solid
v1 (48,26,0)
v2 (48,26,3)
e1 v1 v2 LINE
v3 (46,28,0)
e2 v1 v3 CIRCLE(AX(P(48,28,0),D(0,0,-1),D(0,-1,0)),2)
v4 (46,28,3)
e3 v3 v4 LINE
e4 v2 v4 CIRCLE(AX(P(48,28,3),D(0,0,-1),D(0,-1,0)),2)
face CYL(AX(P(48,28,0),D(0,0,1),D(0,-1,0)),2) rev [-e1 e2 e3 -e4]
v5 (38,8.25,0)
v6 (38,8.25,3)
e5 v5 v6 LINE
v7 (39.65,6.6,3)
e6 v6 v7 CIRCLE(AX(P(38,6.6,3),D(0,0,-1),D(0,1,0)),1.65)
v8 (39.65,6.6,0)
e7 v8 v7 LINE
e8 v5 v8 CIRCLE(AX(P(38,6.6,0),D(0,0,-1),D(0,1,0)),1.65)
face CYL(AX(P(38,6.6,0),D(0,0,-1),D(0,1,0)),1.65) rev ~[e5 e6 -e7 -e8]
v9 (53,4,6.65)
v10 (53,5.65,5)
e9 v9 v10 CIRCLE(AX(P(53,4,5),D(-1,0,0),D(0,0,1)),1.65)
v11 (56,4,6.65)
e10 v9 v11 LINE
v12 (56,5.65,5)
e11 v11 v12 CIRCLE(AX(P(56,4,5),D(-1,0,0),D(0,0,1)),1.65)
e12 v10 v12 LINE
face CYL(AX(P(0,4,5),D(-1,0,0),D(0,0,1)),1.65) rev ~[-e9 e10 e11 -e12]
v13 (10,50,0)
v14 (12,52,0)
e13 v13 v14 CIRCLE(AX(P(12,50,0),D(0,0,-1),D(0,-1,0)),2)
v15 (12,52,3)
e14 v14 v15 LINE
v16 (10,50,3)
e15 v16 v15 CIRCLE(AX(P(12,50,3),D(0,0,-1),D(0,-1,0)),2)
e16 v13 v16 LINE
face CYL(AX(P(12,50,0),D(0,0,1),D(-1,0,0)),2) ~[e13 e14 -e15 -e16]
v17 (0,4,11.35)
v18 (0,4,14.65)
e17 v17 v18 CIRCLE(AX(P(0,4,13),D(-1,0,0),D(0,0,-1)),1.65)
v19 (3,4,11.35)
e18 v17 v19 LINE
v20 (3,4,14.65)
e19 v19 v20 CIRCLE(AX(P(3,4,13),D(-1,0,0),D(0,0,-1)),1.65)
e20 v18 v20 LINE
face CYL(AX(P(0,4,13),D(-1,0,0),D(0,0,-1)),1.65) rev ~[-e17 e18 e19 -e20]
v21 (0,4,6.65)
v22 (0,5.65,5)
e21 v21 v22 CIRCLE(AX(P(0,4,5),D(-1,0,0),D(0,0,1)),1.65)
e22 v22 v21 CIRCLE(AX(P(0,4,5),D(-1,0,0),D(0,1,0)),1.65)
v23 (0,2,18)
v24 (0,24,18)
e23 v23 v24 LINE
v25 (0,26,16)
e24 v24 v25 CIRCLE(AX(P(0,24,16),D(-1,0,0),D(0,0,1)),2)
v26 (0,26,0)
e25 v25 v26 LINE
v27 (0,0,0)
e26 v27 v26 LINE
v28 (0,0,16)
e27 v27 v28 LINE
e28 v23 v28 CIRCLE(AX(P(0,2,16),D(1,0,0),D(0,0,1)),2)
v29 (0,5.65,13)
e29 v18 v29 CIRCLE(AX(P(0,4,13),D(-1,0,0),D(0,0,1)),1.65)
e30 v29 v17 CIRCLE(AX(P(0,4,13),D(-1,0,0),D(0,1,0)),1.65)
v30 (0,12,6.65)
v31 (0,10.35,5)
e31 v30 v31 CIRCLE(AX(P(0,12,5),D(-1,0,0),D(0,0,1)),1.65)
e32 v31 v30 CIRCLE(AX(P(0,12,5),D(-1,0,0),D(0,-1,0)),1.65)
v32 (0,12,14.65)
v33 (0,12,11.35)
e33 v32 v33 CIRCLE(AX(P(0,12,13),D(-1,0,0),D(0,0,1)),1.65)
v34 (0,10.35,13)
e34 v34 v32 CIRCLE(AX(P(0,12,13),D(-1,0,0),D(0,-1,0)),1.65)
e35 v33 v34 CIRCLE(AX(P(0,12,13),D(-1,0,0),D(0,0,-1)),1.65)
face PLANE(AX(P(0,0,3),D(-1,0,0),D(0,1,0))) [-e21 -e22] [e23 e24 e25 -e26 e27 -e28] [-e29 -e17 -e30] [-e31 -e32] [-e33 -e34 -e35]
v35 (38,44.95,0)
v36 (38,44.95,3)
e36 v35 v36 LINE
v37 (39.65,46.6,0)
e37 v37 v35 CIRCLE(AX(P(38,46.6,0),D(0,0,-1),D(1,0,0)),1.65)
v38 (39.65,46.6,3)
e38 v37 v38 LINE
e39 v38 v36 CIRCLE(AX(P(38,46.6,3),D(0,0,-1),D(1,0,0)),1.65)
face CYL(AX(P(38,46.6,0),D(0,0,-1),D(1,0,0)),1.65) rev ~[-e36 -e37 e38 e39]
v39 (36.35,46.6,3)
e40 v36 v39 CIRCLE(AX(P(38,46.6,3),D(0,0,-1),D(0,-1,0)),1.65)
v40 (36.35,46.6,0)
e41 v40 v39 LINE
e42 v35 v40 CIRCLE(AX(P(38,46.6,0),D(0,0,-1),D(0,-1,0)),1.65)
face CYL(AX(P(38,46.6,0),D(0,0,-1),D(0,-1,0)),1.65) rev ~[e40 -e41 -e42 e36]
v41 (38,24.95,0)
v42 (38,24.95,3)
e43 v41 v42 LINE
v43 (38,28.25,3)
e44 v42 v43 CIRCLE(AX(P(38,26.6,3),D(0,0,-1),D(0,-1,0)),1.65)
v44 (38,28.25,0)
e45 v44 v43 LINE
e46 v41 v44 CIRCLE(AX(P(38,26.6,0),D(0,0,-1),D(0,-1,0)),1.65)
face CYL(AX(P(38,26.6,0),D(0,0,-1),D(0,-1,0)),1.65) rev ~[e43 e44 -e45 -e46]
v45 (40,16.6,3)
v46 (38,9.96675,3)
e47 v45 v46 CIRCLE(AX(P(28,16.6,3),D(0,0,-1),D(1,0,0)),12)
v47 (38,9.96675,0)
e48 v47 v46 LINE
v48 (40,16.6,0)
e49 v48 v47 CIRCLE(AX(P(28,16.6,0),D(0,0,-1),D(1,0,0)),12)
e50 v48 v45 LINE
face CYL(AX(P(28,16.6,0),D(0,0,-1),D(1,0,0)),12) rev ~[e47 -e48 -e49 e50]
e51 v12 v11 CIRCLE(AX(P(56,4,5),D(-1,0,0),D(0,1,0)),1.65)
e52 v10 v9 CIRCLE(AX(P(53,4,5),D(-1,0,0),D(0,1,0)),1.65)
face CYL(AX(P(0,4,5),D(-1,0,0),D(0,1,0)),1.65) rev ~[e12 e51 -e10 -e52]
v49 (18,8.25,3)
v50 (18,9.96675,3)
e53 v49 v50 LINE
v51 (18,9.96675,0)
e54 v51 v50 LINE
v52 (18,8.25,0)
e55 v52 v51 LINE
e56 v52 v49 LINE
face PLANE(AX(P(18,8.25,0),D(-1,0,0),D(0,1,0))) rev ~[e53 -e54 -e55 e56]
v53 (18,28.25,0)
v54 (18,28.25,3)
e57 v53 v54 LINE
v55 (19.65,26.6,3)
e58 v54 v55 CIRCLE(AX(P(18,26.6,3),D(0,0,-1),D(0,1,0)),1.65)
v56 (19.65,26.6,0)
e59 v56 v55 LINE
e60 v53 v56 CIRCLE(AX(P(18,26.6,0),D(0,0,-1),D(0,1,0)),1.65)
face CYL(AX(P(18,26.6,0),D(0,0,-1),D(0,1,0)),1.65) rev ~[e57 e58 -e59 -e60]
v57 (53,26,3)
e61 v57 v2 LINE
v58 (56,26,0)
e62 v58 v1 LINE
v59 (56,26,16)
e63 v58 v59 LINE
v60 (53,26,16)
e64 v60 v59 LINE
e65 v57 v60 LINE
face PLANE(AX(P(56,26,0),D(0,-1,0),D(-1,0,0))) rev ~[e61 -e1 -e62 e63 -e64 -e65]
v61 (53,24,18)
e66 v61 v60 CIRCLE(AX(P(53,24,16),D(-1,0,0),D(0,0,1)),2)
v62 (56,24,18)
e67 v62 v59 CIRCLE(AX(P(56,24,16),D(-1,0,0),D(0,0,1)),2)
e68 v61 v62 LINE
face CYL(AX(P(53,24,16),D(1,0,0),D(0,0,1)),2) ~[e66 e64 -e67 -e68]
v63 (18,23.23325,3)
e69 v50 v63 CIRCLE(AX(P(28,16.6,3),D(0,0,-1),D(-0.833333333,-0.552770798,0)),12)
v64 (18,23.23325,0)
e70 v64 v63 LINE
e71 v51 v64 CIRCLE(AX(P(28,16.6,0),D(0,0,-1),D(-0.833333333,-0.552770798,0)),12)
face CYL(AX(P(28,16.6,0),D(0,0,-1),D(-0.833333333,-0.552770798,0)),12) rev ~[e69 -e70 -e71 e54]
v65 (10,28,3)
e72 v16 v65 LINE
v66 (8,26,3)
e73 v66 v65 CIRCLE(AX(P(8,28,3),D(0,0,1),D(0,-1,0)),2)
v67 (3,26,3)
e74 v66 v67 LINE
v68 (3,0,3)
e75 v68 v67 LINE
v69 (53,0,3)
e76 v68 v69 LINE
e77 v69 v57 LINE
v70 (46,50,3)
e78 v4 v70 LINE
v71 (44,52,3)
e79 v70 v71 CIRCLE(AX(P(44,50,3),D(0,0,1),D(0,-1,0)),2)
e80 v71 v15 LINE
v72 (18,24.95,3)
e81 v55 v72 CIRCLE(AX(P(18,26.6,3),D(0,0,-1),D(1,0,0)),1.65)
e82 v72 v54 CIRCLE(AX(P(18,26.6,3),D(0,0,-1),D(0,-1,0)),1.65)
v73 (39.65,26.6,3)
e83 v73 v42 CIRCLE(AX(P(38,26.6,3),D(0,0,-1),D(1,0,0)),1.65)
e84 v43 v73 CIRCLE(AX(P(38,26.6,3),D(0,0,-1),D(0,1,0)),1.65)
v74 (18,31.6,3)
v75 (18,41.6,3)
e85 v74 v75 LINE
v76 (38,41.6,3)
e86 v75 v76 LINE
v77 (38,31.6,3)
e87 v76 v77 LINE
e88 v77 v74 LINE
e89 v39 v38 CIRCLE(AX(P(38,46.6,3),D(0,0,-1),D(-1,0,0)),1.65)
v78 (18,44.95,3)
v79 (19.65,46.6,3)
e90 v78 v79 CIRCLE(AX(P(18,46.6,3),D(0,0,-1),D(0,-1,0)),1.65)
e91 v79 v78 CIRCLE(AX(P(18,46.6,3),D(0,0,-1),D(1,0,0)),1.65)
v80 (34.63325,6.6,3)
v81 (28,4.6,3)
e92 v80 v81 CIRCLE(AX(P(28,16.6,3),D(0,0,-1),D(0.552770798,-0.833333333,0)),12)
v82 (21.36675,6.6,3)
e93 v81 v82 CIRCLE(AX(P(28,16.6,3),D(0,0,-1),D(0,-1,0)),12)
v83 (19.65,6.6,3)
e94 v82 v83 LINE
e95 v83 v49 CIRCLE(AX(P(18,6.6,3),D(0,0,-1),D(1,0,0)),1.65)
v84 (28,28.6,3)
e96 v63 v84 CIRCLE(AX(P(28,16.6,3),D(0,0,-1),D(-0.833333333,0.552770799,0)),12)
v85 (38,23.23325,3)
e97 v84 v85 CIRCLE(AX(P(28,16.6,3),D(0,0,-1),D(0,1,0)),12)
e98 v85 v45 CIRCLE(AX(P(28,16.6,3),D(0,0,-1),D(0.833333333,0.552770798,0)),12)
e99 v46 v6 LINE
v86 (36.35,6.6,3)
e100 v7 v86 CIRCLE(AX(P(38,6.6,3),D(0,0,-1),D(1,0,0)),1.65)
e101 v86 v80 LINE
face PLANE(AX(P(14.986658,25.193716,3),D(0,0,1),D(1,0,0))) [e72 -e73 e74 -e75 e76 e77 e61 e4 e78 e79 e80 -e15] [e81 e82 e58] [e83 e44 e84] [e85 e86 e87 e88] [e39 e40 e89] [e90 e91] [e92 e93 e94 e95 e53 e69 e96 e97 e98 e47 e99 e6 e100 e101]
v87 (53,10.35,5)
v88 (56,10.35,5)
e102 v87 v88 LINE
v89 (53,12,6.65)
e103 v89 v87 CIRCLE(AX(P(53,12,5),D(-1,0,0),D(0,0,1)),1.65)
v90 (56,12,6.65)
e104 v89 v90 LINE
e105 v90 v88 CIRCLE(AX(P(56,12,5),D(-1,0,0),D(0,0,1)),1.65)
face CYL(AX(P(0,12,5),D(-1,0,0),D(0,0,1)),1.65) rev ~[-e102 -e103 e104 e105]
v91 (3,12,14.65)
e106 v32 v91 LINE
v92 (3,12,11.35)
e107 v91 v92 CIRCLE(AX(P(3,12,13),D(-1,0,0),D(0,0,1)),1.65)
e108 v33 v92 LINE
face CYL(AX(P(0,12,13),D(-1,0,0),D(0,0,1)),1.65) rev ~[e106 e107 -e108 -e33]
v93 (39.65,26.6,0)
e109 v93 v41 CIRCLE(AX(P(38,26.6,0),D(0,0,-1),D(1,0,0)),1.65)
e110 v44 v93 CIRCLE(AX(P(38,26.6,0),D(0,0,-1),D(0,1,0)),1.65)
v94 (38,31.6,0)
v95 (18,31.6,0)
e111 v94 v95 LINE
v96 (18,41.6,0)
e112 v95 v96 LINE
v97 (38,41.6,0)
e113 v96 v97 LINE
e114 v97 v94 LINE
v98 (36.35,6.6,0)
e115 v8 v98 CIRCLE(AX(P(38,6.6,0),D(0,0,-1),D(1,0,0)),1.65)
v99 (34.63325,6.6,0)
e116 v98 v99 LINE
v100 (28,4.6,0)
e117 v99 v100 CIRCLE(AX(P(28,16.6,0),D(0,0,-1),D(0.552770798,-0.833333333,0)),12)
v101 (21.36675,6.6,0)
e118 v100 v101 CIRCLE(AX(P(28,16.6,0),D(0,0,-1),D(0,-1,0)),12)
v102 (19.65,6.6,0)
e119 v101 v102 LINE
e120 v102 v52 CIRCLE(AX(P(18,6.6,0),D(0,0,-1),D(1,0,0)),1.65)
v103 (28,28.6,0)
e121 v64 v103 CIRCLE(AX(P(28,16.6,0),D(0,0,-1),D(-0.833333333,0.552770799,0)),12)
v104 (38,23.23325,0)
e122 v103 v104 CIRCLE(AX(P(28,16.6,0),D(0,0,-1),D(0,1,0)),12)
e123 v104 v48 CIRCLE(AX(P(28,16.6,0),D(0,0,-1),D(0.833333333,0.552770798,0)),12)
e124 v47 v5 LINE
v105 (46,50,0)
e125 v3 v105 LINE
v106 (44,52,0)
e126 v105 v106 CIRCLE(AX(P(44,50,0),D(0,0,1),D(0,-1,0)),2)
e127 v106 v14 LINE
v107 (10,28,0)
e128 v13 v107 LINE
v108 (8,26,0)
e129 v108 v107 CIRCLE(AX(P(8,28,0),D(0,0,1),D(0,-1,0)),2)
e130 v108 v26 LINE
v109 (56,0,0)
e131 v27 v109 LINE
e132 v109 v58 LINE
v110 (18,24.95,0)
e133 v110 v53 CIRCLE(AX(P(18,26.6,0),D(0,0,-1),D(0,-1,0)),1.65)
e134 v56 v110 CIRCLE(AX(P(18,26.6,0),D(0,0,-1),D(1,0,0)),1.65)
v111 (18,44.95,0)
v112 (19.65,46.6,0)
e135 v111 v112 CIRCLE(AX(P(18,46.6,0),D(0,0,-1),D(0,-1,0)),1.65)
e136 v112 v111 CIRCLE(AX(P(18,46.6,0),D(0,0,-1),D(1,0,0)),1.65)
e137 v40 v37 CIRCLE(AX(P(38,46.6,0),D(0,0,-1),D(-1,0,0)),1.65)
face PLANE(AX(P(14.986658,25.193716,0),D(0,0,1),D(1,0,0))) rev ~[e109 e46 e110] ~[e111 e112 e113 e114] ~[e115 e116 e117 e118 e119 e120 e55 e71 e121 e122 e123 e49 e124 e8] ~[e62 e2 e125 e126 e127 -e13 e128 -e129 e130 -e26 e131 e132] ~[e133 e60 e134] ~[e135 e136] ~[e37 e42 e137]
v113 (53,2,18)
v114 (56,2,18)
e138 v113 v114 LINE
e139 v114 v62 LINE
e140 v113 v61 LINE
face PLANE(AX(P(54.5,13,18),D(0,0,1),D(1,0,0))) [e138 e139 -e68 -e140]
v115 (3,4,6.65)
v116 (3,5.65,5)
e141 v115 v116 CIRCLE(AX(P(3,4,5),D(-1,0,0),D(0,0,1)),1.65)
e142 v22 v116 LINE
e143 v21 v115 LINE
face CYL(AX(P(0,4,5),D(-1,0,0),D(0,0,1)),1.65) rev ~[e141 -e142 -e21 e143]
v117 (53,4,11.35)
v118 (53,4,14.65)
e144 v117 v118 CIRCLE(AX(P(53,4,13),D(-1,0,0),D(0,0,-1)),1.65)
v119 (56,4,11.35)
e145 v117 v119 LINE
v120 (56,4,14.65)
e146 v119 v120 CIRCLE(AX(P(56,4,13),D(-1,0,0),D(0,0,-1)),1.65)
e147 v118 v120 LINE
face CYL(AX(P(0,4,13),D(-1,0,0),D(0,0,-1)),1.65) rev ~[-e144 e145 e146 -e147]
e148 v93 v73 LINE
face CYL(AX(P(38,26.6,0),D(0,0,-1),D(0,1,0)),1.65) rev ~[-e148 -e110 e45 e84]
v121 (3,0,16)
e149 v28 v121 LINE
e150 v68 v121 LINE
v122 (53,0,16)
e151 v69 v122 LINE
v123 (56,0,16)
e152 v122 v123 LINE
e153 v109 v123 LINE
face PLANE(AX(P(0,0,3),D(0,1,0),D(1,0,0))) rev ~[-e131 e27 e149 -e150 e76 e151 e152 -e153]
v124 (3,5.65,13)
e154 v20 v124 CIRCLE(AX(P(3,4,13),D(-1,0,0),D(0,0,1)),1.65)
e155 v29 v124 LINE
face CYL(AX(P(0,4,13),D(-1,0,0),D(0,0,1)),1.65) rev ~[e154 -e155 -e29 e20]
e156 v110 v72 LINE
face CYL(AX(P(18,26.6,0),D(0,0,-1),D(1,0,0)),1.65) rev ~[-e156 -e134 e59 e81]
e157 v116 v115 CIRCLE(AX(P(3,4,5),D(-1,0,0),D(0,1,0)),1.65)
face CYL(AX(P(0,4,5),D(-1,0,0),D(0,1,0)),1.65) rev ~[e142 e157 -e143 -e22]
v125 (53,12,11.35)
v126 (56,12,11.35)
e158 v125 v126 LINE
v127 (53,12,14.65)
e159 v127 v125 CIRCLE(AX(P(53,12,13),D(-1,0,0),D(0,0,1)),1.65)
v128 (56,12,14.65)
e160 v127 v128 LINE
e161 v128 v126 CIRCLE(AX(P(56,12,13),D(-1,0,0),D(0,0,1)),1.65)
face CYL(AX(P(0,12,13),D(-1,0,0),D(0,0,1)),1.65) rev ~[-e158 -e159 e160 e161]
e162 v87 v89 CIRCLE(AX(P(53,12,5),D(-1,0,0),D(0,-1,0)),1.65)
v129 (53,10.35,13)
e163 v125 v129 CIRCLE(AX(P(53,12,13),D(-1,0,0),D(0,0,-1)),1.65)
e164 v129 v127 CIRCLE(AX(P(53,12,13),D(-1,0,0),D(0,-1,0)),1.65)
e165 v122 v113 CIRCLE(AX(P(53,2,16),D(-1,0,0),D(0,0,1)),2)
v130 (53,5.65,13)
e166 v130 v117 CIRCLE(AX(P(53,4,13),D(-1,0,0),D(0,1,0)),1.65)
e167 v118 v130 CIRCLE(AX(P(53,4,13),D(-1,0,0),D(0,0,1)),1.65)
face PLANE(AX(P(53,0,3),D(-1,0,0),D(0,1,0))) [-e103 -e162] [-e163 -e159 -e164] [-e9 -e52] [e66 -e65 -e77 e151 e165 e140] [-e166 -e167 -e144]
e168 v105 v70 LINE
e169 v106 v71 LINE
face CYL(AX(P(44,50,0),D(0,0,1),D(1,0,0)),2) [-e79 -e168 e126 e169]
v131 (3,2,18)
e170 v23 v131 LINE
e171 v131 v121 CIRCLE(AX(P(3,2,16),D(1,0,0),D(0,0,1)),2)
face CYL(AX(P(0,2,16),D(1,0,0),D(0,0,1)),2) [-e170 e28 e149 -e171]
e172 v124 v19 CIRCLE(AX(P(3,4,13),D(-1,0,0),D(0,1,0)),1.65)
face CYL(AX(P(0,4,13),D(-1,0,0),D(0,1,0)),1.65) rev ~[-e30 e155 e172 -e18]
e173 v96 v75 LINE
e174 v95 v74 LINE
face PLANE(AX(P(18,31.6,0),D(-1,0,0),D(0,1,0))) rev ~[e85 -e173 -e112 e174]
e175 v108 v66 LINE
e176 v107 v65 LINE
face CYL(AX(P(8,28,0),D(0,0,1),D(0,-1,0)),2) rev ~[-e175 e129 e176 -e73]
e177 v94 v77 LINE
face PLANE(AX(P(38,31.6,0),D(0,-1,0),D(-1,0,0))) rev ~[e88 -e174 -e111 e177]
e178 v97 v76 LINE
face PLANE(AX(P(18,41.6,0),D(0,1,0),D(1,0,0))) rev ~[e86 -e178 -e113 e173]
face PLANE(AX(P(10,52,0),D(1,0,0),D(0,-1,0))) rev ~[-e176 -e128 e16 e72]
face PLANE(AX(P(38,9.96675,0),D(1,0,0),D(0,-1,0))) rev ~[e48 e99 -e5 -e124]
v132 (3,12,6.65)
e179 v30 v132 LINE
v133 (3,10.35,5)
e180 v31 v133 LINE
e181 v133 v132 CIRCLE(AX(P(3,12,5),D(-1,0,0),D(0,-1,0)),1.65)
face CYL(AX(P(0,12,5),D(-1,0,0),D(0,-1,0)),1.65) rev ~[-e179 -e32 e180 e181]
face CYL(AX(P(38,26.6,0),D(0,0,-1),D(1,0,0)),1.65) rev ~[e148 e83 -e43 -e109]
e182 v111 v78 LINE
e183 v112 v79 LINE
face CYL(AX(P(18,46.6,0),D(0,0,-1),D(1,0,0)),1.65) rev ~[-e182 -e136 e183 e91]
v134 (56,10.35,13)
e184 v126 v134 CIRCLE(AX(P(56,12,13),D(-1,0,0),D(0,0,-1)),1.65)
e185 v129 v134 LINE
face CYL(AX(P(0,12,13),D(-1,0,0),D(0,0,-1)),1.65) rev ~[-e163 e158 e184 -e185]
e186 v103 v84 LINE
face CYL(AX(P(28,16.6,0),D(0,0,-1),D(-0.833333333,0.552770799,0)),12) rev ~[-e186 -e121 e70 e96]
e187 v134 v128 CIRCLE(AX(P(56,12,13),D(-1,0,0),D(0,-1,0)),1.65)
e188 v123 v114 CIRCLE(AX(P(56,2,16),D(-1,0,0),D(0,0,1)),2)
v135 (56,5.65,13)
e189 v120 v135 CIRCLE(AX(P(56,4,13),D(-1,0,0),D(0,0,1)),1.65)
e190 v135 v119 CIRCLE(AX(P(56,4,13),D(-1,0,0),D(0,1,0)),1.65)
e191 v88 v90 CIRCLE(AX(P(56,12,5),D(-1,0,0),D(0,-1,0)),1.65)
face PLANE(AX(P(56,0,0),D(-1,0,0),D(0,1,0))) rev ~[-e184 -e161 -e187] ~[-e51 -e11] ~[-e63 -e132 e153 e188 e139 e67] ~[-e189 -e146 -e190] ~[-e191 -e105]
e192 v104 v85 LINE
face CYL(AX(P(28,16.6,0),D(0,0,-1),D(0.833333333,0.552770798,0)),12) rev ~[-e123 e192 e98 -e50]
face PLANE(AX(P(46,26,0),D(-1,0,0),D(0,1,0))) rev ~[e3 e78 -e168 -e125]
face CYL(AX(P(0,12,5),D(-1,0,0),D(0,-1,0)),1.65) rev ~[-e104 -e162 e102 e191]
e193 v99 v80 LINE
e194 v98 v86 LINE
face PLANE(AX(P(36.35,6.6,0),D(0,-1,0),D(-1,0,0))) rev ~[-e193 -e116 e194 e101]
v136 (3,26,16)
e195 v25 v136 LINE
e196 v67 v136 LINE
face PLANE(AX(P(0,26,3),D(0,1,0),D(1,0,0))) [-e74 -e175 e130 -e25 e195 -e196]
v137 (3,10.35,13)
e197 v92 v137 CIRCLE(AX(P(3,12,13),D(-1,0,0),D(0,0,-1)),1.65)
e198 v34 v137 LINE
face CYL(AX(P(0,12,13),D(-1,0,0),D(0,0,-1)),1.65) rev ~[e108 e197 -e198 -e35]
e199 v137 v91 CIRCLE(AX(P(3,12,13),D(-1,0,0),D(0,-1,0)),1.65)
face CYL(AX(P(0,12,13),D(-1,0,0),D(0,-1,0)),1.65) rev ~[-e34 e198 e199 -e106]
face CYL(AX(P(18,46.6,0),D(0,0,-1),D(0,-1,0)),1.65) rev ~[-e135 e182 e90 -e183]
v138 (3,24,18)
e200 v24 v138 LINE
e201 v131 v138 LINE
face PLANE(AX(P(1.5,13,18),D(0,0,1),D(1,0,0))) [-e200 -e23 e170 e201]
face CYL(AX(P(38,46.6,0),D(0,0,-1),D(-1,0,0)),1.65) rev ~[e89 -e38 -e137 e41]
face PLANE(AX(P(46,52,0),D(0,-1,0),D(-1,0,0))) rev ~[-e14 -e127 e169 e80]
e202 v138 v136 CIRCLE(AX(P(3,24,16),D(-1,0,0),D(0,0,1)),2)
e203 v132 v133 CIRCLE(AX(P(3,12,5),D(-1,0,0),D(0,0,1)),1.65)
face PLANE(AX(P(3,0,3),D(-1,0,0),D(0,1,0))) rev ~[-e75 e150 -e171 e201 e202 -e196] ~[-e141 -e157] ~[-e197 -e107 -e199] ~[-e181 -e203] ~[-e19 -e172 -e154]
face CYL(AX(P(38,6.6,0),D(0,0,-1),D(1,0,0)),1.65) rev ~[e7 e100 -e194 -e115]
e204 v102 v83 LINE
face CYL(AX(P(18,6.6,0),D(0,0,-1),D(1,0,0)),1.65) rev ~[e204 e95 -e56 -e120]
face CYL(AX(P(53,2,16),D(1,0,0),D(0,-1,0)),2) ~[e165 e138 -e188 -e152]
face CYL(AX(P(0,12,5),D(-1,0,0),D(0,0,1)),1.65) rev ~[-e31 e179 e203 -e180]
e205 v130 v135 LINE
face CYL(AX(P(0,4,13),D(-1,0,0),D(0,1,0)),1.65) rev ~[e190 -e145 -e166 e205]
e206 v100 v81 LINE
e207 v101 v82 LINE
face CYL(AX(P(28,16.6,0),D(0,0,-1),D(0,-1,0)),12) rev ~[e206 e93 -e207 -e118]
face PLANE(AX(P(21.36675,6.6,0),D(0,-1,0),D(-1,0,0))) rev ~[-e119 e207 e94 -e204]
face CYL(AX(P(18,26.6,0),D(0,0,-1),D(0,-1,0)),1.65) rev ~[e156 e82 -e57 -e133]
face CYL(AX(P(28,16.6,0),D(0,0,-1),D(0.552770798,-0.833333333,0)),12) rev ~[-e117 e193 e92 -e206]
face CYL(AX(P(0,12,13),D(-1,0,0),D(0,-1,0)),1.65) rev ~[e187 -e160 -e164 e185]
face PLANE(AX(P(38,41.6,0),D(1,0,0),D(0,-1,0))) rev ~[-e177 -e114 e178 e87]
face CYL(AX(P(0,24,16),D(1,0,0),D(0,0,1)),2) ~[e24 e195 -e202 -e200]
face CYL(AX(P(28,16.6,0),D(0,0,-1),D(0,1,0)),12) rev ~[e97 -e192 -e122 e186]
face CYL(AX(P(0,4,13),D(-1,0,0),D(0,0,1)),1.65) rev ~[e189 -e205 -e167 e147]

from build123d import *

# Parameters (mm, degrees)
SKETCH_1_W          = 3
SKETCH_1_H          = 26
EXTRUDE_4_DEPTH     = 3
SKETCH_2_W          = 3
SKETCH_2_H          = 26
EXTRUDE_5_DEPTH     = 15
CUT_EXTRUDE_2_DEPTH = 56
FILLET_2_R          = 2


with BuildPart() as part:
    # 草图1 → 凸台-拉伸4 (new body)
    with BuildSketch(Plane.XY):
        with BuildLine():
            Line((10, 26), (3, 26))
            Line((3, 26), (3, 0))
            Line((3, 0), (28, 0))
            Line((28, 0), (28, 4.6))
            ThreePointArc((28, 4.6), (24.535898385, 5.110874707), (21.366750419, 6.6))
            Line((21.366750419, 6.6), (19.65, 6.6))
            ThreePointArc((19.65, 6.6), (16.833273811, 5.433273811), (18, 8.25))
            Line((18, 8.25), (18, 9.966750419))
            ThreePointArc((18, 9.966750419), (16, 16.6), (18, 23.233249581))
            Line((18, 23.233249581), (18, 24.95))
            ThreePointArc((18, 24.95), (16.35, 26.6), (18, 28.25))
            Line((18, 28.25), (18, 31.6))
            Line((18, 31.6), (18, 41.6))
            Line((18, 41.6), (18, 44.95))
            ThreePointArc((18, 44.95), (16.833273811, 47.766726189), (19.65, 46.6))
            Line((19.65, 46.6), (28, 46.6))
            Line((28, 46.6), (28, 52))
            Line((28, 52), (10, 52))
            Line((10, 52), (10, 26))
        make_face()
        with BuildLine():
            Line((28, 4.6), (28, 0))
            Line((28, 0), (53, 0))
            Line((53, 0), (53, 26))
            Line((53, 26), (46, 26))
            Line((46, 26), (46, 52))
            Line((46, 52), (28, 52))
            Line((28, 52), (28, 46.6))
            Line((28, 46.6), (36.35, 46.6))
            ThreePointArc((36.35, 46.6), (38, 48.25), (39.65, 46.6))
            ThreePointArc((39.65, 46.6), (39.166726189, 45.433273811), (38, 44.95))
            Line((38, 44.95), (38, 41.6))
            Line((38, 41.6), (38, 31.6))
            Line((38, 31.6), (38, 28.25))
            ThreePointArc((38, 28.25), (39.166726189, 27.766726189), (39.65, 26.6))
            ThreePointArc((39.65, 26.6), (39.166726189, 25.433273811), (38, 24.95))
            Line((38, 24.95), (38, 23.233249581))
            ThreePointArc((38, 23.233249581), (39.489125293, 20.064101615), (40, 16.6))
            ThreePointArc((40, 16.6), (39.489125293, 13.135898385), (38, 9.966750419))
            Line((38, 9.966750419), (38, 8.25))
            ThreePointArc((38, 8.25), (39.166726189, 7.766726189), (39.65, 6.6))
            ThreePointArc((39.65, 6.6), (38, 4.95), (36.35, 6.6))
            Line((36.35, 6.6), (34.633249581, 6.6))
            ThreePointArc((34.633249581, 6.6), (31.464101615, 5.110874707), (28, 4.6))
        make_face()
        with Locations((54.5, 13)):
            Rectangle(SKETCH_1_W, SKETCH_1_H)
        with Locations((1.5, 13)):
            Rectangle(SKETCH_1_W, SKETCH_1_H)
        with BuildLine():
            ThreePointArc((18, 23.233249581), (22.325451338, 27.173528147), (28, 28.6))
            Line((28, 28.6), (28, 31.6))
            Line((28, 31.6), (23, 31.6))
            Line((23, 31.6), (18, 31.6))
            Line((18, 31.6), (18, 28.25))
            ThreePointArc((18, 28.25), (19.166726189, 27.766726189), (19.65, 26.6))
            ThreePointArc((19.65, 26.6), (19.166726189, 25.433273811), (18, 24.95))
            Line((18, 24.95), (18, 23.233249581))
        make_face()
        with BuildLine():
            Line((28, 31.6), (28, 28.6))
            ThreePointArc((28, 28.6), (33.674548662, 27.173528147), (38, 23.233249581))
            Line((38, 23.233249581), (38, 24.95))
            ThreePointArc((38, 24.95), (36.35, 26.6), (38, 28.25))
            Line((38, 28.25), (38, 31.6))
            Line((38, 31.6), (28, 31.6))
        make_face()
        with BuildLine():
            Line((28, 41.6), (28, 46.6))
            Line((28, 46.6), (19.65, 46.6))
            ThreePointArc((19.65, 46.6), (19.166726189, 45.433273811), (18, 44.95))
            Line((18, 44.95), (18, 41.6))
            Line((18, 41.6), (28, 41.6))
        make_face()
        with BuildLine():
            Line((36.35, 46.6), (28, 46.6))
            Line((28, 46.6), (28, 41.6))
            Line((28, 41.6), (33, 41.6))
            Line((33, 41.6), (38, 41.6))
            Line((38, 41.6), (38, 44.95))
            ThreePointArc((38, 44.95), (36.833273811, 45.433273811), (36.35, 46.6))
        make_face()
    extrude(amount=EXTRUDE_4_DEPTH)

    # 草图2 → 凸台-拉伸5 (add)
    with BuildSketch(Plane.XY.offset(3)):
        with Locations((1.5, 13)):
            Rectangle(SKETCH_2_W, SKETCH_2_H)
        with Locations((54.5, 13)):
            Rectangle(SKETCH_2_W, SKETCH_2_H)
    extrude(amount=EXTRUDE_5_DEPTH)

    # 草图5 → 切除-拉伸2 (cut)
    with BuildSketch(Plane.ZY):
        with BuildLine():
            ThreePointArc((5, 10.35), (6.166726189, 10.833273811), (6.65, 12))
            Line((6.65, 12), (5, 12))
            Line((5, 12), (5, 10.35))
        make_face()
        with BuildLine():
            Line((5, 12), (6.65, 12))
            ThreePointArc((6.65, 12), (3.833273811, 13.166726189), (5, 10.35))
            Line((5, 10.35), (5, 12))
        make_face()
        with BuildLine():
            ThreePointArc((11.35, 12), (11.833273811, 10.833273811), (13, 10.35))
            Line((13, 10.35), (13, 12))
            Line((13, 12), (11.35, 12))
        make_face()
        with BuildLine():
            Line((13, 12), (13, 10.35))
            ThreePointArc((13, 10.35), (14.166726189, 10.833273811), (14.65, 12))
            ThreePointArc((14.65, 12), (13, 13.65), (11.35, 12))
            Line((11.35, 12), (13, 12))
        make_face()
        with BuildLine():
            ThreePointArc((6.65, 4), (6.166726189, 5.166726189), (5, 5.65))
            Line((5, 5.65), (5, 4))
            Line((5, 4), (6.65, 4))
        make_face()
        with BuildLine():
            Line((5, 4), (5, 5.65))
            ThreePointArc((5, 5.65), (3.833273811, 2.833273811), (6.65, 4))
            Line((6.65, 4), (5, 4))
        make_face()
        with BuildLine():
            ThreePointArc((14.65, 4), (14.166726189, 5.166726189), (13, 5.65))
            Line((13, 5.65), (13, 4))
            Line((13, 4), (11.35, 4))
            ThreePointArc((11.35, 4), (13, 2.35), (14.65, 4))
        make_face()
        with BuildLine():
            Line((13, 4), (13, 5.65))
            ThreePointArc((13, 5.65), (11.833273811, 5.166726189), (11.35, 4))
            Line((11.35, 4), (13, 4))
        make_face()
    extrude(amount=-CUT_EXTRUDE_2_DEPTH, mode=Mode.SUBTRACT)

    # 圆角2
    fillet_2_edges = [part.edges().sort_by_distance(p)[0] for p in [
        (46, 26, 1.5),
        (10, 26, 1.5),
        (10, 52, 1.5),
        (46, 52, 1.5),
        (1.5, 26, 18),
        (1.5, 0, 18),
        (54.5, 26, 18),
        (54.5, 0, 18),
    ]]
    fillet(fillet_2_edges, radius=FILLET_2_R)


solid = part.part
